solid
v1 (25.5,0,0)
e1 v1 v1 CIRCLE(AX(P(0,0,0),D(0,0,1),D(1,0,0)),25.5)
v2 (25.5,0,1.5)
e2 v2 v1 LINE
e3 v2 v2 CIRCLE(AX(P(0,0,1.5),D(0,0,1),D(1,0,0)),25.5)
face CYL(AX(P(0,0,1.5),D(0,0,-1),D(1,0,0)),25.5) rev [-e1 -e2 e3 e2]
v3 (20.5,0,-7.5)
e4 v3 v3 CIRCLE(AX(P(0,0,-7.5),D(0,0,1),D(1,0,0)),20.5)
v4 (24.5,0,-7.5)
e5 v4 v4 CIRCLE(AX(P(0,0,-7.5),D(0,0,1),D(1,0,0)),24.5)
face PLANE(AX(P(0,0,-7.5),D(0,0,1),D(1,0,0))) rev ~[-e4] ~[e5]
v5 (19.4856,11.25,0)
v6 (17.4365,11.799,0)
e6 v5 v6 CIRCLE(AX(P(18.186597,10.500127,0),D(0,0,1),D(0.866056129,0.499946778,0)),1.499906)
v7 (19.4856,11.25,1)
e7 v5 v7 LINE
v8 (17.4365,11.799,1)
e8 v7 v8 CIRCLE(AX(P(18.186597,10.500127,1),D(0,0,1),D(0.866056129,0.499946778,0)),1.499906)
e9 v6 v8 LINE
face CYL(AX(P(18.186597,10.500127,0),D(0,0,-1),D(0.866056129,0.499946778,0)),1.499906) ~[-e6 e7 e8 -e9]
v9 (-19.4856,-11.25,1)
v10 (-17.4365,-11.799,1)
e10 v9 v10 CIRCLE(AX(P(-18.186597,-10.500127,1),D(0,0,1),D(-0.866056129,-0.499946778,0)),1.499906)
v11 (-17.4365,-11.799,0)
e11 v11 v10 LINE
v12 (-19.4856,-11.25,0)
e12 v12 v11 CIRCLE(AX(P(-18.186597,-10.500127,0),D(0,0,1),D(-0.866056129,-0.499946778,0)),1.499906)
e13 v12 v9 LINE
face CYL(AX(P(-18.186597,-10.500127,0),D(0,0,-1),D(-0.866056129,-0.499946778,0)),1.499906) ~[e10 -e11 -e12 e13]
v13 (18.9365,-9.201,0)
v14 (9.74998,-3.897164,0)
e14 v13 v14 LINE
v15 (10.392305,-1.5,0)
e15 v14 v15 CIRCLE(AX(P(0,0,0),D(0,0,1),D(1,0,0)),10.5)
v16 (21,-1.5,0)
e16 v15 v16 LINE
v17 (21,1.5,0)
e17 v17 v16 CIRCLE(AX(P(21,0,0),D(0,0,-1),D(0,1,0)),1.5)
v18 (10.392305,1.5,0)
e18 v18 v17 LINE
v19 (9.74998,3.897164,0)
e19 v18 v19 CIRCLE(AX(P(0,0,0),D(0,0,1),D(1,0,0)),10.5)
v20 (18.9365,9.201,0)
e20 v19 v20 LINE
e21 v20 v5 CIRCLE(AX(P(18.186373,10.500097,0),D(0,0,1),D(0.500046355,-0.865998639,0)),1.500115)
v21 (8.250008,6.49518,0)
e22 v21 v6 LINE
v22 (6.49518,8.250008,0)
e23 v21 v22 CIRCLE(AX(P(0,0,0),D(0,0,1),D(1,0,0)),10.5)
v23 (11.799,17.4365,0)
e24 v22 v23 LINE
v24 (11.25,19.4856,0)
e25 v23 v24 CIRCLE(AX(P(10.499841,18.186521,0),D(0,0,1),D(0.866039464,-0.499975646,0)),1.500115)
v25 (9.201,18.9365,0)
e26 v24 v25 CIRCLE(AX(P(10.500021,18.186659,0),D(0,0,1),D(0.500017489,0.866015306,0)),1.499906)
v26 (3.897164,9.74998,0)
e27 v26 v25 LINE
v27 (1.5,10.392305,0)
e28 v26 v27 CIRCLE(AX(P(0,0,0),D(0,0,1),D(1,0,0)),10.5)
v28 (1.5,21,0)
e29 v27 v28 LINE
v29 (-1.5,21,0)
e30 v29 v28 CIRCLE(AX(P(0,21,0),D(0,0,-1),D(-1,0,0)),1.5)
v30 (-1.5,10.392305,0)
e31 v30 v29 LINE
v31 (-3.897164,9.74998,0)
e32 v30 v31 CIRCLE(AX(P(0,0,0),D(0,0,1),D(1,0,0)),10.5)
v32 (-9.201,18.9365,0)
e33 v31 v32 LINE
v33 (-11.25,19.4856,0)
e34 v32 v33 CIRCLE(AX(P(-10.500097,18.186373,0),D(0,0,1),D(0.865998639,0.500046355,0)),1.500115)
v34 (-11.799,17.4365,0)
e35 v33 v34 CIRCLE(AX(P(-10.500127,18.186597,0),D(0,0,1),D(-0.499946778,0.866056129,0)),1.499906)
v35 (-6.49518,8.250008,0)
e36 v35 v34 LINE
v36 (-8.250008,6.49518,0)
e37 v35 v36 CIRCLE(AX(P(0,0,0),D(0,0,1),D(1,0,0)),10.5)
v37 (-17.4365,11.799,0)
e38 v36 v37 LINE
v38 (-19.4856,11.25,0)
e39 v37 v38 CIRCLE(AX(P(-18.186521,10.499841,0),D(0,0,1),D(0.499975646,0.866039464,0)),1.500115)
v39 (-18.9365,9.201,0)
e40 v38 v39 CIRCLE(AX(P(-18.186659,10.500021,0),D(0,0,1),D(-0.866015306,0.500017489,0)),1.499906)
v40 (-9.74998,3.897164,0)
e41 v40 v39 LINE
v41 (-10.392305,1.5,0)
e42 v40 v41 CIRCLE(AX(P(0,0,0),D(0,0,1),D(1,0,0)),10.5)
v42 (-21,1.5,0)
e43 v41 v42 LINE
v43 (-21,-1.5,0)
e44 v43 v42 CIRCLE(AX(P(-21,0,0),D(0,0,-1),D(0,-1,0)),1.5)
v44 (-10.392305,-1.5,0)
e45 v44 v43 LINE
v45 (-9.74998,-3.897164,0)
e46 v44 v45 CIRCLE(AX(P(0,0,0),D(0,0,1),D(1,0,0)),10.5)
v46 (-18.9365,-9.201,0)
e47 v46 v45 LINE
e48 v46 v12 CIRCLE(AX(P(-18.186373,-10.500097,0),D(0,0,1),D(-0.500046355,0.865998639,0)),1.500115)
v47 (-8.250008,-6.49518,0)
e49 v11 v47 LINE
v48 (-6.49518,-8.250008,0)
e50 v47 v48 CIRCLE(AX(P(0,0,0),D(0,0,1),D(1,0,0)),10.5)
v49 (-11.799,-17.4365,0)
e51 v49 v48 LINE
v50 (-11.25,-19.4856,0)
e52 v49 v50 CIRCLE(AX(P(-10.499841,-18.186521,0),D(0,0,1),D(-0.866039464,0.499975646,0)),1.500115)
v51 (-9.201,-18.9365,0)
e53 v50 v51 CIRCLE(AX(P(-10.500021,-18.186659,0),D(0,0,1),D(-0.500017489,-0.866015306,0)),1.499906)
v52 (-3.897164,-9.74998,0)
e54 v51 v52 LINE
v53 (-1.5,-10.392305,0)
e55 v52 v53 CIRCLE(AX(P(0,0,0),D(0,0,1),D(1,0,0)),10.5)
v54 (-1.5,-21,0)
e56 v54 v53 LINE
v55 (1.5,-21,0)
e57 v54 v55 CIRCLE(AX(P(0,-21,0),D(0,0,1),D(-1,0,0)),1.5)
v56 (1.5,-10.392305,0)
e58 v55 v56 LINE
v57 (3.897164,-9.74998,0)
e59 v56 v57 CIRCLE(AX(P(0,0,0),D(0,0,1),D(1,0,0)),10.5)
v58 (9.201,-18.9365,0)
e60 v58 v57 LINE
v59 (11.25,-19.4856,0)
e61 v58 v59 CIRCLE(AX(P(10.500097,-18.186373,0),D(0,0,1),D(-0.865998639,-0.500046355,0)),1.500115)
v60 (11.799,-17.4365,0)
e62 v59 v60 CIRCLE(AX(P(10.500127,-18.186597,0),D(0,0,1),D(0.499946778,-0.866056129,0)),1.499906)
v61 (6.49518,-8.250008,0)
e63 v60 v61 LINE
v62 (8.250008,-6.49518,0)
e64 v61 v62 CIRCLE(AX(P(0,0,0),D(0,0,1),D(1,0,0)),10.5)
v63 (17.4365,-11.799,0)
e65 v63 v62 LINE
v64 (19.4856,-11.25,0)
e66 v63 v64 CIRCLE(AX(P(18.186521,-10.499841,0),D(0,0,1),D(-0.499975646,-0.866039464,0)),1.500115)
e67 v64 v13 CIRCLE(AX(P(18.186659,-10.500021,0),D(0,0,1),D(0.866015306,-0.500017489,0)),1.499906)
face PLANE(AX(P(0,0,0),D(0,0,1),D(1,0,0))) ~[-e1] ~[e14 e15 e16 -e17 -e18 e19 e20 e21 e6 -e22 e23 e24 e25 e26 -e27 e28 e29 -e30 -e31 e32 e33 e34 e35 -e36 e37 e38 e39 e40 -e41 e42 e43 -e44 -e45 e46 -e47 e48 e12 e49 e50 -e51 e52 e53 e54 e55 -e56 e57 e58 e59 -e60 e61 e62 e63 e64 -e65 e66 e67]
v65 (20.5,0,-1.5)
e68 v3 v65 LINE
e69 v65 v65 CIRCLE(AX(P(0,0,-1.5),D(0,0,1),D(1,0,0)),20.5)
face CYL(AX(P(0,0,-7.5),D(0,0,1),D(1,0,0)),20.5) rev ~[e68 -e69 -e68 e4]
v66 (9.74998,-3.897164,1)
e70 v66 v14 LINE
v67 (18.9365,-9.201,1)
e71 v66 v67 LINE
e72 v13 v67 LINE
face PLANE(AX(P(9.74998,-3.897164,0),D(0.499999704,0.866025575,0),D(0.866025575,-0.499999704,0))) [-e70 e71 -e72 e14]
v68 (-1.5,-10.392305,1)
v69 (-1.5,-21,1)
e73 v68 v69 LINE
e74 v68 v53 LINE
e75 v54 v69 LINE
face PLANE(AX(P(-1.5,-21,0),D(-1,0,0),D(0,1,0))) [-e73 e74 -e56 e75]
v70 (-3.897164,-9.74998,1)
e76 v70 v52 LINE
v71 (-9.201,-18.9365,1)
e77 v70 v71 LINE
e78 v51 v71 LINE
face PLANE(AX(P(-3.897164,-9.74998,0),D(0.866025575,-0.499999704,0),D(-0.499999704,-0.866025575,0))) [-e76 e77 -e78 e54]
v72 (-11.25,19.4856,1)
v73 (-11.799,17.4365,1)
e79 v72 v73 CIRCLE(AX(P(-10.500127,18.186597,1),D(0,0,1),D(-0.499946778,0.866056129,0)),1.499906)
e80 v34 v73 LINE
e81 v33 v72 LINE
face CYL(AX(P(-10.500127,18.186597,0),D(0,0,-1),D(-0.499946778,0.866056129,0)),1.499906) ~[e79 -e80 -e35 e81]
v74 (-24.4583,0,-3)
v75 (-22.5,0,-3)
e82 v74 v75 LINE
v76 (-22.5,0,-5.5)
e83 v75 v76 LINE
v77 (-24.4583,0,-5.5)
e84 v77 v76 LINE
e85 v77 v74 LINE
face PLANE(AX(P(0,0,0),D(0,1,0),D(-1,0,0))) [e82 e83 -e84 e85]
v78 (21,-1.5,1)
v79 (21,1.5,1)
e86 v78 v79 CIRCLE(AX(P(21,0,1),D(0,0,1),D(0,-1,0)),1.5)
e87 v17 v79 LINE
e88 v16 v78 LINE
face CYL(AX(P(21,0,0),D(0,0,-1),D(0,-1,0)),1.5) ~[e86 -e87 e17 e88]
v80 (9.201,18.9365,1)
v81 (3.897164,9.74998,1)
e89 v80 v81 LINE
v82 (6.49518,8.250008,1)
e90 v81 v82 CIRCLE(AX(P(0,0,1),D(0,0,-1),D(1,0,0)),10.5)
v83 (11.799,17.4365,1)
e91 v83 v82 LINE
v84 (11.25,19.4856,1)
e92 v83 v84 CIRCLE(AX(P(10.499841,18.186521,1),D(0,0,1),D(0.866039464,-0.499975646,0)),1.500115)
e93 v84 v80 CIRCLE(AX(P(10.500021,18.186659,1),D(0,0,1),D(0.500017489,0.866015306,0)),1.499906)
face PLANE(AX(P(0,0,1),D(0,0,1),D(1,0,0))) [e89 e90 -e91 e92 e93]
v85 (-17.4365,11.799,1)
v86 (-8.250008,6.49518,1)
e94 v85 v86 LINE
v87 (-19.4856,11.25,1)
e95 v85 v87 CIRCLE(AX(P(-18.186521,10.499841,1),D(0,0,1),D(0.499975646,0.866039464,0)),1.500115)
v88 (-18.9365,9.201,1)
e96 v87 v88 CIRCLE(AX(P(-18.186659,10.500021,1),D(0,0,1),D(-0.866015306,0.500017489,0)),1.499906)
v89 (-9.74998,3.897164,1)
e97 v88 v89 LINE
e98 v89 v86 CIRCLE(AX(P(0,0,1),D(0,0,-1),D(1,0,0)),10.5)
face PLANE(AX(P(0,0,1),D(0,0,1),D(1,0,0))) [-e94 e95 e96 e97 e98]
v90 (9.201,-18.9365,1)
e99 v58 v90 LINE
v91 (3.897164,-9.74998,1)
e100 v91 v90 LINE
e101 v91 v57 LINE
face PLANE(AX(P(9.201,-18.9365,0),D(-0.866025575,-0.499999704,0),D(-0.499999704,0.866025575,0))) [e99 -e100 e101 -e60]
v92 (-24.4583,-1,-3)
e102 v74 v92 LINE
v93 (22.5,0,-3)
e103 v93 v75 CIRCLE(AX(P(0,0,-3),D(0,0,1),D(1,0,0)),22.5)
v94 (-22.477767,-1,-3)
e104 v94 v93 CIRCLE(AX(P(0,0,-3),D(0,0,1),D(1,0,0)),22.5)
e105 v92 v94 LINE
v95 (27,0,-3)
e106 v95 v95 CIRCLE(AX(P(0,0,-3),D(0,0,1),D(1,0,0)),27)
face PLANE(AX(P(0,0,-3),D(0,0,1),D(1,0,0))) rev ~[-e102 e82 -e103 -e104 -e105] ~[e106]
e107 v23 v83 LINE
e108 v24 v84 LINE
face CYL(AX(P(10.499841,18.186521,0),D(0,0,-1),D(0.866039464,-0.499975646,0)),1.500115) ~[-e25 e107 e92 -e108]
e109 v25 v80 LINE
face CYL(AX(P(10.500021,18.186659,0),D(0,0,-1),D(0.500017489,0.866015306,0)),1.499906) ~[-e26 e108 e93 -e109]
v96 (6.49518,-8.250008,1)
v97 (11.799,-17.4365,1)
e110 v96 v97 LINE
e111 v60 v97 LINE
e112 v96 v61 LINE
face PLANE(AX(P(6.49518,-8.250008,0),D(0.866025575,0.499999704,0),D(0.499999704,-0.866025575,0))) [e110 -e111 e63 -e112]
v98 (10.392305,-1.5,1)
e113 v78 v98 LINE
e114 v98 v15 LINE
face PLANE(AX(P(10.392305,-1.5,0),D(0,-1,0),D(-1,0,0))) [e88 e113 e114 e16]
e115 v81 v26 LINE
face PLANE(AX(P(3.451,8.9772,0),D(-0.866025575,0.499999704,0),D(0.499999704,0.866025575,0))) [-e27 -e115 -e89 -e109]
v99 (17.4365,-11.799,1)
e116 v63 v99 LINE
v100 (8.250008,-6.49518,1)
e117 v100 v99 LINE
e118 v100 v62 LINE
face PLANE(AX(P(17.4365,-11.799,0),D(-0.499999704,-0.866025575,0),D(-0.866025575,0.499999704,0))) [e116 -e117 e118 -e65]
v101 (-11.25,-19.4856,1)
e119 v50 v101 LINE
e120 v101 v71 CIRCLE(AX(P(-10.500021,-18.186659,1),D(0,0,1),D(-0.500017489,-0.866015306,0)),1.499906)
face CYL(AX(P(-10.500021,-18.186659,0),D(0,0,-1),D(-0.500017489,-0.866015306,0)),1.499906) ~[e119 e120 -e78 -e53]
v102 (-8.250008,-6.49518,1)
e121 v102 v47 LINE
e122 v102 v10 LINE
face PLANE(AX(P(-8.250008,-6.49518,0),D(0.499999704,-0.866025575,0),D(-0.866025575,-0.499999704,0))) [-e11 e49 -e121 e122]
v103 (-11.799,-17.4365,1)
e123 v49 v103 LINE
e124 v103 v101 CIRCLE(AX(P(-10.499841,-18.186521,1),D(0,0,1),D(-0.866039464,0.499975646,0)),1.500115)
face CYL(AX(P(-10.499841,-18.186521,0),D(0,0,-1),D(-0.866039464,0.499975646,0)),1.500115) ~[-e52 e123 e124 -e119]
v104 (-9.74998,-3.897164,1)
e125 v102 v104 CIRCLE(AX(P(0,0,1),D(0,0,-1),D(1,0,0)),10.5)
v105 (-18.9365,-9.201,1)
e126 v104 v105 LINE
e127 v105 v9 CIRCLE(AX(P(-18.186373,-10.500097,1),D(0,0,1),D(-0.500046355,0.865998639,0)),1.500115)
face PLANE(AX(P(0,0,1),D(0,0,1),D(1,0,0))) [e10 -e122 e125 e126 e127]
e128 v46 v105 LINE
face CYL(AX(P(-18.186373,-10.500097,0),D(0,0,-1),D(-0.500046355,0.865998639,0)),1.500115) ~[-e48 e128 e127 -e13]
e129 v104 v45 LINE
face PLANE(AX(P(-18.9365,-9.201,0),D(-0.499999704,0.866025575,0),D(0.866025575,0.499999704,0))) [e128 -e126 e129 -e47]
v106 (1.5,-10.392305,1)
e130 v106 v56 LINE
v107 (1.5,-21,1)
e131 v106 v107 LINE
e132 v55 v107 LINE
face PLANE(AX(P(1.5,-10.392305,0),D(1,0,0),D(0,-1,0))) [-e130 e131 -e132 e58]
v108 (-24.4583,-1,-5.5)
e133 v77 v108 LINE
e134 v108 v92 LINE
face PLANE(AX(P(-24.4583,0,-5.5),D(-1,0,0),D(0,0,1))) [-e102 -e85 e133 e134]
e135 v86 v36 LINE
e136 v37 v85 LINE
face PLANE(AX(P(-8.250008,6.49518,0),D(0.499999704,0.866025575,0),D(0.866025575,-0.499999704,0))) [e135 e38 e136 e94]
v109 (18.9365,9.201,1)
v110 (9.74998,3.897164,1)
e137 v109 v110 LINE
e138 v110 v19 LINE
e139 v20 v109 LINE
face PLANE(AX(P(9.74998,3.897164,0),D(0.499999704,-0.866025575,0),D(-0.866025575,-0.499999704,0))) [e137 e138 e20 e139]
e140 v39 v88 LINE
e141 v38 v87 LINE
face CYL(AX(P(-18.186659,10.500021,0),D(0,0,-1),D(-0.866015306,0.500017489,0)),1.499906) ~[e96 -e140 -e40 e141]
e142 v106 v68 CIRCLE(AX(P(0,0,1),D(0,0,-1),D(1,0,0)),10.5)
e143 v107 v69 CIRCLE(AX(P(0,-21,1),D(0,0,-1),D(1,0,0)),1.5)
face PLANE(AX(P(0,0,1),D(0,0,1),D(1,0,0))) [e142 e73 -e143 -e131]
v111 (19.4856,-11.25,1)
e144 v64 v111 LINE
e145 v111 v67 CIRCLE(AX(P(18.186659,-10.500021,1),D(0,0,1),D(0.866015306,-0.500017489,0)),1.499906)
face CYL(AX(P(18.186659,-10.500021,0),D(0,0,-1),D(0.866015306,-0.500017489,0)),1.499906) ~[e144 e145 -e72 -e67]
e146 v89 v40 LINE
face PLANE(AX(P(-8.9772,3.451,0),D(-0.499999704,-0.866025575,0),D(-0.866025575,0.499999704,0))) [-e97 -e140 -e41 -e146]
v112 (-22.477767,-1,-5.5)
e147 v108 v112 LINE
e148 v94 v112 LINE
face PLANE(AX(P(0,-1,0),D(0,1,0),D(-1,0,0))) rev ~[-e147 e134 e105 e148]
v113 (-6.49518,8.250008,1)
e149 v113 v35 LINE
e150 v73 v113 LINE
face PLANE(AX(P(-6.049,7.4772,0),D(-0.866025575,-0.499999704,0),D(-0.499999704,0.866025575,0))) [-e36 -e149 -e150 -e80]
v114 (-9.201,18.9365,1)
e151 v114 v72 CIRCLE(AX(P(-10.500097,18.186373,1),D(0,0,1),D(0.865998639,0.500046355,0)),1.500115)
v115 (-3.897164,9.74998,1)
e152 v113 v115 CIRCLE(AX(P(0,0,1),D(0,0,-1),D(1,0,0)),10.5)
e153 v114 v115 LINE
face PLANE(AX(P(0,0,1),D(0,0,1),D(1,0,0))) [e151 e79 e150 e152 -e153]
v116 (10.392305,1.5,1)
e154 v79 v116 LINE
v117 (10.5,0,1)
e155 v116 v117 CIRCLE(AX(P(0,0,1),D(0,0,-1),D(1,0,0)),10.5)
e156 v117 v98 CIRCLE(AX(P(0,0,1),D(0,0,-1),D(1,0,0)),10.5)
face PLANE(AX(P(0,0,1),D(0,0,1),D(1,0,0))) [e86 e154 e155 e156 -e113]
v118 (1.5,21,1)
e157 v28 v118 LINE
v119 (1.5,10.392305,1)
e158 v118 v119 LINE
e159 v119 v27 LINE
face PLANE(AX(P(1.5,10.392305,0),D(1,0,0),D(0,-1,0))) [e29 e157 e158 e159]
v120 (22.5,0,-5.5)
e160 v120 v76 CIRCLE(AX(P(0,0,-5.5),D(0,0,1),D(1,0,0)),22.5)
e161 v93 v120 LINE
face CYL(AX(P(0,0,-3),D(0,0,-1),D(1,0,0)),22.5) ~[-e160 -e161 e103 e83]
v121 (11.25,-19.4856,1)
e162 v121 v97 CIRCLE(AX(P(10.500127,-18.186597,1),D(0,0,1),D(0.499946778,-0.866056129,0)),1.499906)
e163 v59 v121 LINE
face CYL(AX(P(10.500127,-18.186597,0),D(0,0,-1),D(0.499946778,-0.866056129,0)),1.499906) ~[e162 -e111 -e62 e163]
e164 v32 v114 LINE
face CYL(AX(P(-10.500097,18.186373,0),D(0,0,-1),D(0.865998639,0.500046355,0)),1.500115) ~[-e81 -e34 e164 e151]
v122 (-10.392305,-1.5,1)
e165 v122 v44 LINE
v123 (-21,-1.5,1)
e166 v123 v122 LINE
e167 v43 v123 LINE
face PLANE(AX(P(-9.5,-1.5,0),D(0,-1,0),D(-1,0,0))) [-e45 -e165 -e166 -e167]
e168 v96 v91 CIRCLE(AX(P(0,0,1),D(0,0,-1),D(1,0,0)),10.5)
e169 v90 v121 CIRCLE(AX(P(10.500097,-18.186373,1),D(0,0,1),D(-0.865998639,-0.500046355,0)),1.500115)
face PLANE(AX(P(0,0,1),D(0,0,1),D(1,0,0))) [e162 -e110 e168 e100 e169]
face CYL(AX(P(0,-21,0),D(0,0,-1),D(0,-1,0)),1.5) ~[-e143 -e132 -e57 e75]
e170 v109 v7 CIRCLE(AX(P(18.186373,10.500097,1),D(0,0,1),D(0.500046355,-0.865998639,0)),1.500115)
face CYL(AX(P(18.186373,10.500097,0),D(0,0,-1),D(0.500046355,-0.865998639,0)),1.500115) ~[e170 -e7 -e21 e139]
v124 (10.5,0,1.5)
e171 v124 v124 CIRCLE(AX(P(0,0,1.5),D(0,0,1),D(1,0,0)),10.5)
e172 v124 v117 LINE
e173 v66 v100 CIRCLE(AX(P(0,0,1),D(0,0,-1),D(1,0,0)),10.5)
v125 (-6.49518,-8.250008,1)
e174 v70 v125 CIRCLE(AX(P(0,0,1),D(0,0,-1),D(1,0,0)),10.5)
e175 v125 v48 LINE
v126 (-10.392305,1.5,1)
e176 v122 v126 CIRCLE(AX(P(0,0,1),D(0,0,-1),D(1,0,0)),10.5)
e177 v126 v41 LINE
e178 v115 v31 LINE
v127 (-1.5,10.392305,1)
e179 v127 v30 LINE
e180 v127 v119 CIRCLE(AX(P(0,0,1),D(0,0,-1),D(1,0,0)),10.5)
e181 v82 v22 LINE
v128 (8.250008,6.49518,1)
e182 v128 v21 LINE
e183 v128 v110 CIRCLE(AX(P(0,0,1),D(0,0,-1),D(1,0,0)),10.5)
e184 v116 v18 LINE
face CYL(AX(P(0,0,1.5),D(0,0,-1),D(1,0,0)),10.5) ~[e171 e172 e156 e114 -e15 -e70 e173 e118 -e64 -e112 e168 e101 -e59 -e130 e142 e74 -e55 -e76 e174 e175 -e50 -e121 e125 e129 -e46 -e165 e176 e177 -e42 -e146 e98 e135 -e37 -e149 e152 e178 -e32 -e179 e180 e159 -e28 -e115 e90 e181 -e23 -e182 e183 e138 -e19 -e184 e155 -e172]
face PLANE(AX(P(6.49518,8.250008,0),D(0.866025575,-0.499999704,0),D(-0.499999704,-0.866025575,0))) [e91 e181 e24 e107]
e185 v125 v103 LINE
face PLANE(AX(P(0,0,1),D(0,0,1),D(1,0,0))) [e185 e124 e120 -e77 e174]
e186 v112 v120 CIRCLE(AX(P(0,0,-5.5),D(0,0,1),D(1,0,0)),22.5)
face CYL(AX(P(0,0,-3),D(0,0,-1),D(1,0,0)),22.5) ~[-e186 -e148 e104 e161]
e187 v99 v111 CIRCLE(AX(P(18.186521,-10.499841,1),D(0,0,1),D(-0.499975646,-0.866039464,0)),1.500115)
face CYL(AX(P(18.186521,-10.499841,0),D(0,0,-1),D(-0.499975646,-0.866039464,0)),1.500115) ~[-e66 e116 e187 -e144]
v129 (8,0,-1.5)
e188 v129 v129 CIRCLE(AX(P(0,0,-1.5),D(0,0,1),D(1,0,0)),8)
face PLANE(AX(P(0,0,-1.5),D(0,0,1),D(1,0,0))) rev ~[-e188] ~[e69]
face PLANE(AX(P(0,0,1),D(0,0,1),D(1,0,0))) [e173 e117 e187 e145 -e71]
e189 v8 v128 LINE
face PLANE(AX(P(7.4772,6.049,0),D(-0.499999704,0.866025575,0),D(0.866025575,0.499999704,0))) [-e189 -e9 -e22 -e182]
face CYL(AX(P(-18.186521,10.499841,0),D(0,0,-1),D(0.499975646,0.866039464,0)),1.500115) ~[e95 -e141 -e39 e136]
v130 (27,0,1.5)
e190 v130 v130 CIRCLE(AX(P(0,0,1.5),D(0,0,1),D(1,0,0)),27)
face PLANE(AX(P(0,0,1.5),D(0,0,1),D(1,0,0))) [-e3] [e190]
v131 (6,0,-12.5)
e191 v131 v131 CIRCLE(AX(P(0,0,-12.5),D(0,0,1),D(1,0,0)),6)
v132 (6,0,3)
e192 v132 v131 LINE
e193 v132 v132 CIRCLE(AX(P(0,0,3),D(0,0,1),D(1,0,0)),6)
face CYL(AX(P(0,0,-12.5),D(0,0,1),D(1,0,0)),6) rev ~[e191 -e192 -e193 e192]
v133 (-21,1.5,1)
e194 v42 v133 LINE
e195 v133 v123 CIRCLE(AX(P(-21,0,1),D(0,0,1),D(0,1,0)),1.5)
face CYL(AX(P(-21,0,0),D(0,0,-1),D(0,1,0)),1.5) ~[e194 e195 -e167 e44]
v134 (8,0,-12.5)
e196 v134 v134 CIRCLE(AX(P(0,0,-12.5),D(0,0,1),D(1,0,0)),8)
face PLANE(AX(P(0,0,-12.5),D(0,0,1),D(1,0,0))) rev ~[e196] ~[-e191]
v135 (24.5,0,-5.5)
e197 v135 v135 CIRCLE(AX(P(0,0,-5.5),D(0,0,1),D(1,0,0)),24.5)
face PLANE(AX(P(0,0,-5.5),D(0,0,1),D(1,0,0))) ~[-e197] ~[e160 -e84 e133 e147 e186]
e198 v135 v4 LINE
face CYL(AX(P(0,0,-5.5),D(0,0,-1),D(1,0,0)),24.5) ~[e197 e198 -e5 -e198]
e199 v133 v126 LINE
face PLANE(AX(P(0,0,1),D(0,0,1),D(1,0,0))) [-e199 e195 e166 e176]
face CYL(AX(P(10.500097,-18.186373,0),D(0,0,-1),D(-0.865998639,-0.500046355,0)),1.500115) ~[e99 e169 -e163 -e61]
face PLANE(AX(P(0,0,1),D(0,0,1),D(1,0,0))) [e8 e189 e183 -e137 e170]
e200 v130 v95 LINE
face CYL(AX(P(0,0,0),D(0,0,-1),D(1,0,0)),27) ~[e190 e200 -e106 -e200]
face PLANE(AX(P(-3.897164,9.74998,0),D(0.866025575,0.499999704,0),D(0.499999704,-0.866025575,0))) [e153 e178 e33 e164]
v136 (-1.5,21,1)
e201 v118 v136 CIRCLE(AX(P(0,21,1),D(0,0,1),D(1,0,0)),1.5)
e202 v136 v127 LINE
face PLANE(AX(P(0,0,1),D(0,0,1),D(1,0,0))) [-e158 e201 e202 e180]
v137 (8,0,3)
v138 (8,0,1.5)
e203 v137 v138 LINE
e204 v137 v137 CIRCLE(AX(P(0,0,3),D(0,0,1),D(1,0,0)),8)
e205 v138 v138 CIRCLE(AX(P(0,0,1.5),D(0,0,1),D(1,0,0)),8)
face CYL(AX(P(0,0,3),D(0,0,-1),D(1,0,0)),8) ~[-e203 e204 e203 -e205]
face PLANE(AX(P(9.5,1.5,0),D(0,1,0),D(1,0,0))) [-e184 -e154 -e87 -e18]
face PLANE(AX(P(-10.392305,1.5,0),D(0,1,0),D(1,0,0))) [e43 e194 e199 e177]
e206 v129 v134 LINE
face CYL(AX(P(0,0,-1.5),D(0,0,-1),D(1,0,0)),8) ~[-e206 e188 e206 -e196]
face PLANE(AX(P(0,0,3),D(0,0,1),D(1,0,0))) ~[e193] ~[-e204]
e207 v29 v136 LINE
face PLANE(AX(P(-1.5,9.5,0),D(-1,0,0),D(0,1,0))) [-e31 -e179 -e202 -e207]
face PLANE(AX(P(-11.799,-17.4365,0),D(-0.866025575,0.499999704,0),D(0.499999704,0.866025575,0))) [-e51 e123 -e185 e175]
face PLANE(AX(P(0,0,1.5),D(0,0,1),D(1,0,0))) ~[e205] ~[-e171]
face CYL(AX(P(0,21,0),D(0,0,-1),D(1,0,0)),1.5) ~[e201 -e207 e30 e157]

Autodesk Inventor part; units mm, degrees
ref_plane "YZ Plane" through (0, 0, 0) normal (1, 0, 0) x (0, 1, 0)
ref_plane "XZ Plane" through (0, 0, 0) normal (0, 1, 0) x (-1, 0, 0)
ref_plane "XY Plane" through (0, 0, 0) normal (0, 0, 1) x (1, 0, 0)
sketch "Sketch1" plane through (0, 0, 0) normal (0, 1, 0) x (-1, 0, 0)
  line L0 (0, 0) -> (-27, 0)
  line L1 (-27, 0) -> (-27, -3)
  line L2 (-27, -3) -> (-22.5, -3)
  line L3 (-22.5, -3) -> (-22.5, -5.5)
  line L4 (-22.5, -5.5) -> (-24.5, -5.5)
  line L5 (-24.5, -5.5) -> (-24.5, -7.5)
  line L6 (-24.5, -7.5) -> (-20.5, -7.5)
  line L7 (-20.5, -7.5) -> (-20.5, -1.5)
  line L8 (-20.5, -1.5) -> (-8, -1.5)
  line L9 (-8, -1.5) -> (-8, -12.5)
  line L10 (-8, -12.5) -> (-6, -12.5)
  line L11 (-6, -12.5) -> (-6, 0)
  line L12 (-6, 0) -> (-6, 3)
  line L13 (-6, 3) -> (-8, 3)
  line L14 (-8, 3) -> (-8, 1.5)
  line L15 (-8, 1.5) -> (-9, 1.5)
  line L16 (-9, 1.5) -> (-10.5, 1.5)
  line L17 (-10.5, 1.5) -> (-10.5, 0)
  line L18 (-27, 0) -> (-27, 1.5)
  line L19 (-27, 1.5) -> (-25.5, 1.5)
  line L20 (-25.5, 1.5) -> (-25.5, 0)
  line L21 (0, -15.6) -> (0, 6.1) projected
  dimension "d0" = 27
  dimension "d1" = 3
  dimension "d2" = 4.5
  dimension "d3" = 2.5
  dimension "d4" = 2
  dimension "d5" = 2.5
  dimension "d6" = 4
  dimension "d7" = 2
  dimension "d8" = 1.5
  dimension "d9" = 8
  dimension "d10" = 3
  dimension "d11" = 2
  dimension "d12" = 1.5
  dimension "d13" = 1
  dimension "d14" = 1.5
  dimension "d15" = 1.5
  dimension "d16" = 5
revolve "Revolution1" add sketch "Sketch1" angle 360 about axis through (0, 0, -10) along (0, 0, 1)
sketch "Sketch2" plane through (0, 0, 0) normal (0, 0, 1) x (1, 0, 0)
  circle A0 centre (0, 0) radius 10.5 projected
  line L0 (9.5, 1.5) -> (21, 1.5)
  line L1 (22.5, 0) -> (22.5, 0)
  line L2 (21, -1.5) -> (9.5, -1.5)
  line L3 (9.5, -1.5) -> (9.5, 1.5)
  arc A1 (22.5, 0) -> (21, 1.5) centre (21, 0) ccw
  arc A2 (21, -1.5) -> (22.5, 0) centre (21, 0) ccw
  line L4 (7.4772, 6.049) -> (17.4365, 11.799)
  line L5 (19.4856, 11.25) -> (19.4856, 11.25)
  line L6 (18.9365, 9.201) -> (8.9772, 3.451)
  line L7 (8.9772, 3.451) -> (7.4772, 6.049)
  arc A3 (19.4856, 11.25) -> (17.4365, 11.799) centre (18.1865, 10.5) ccw
  arc A4 (18.9365, 9.201) -> (19.4856, 11.25) centre (18.1865, 10.5) ccw
  line L8 (3.451, 8.9772) -> (9.201, 18.9365)
  line L9 (11.25, 19.4856) -> (11.25, 19.4856)
  line L10 (11.799, 17.4365) -> (6.049, 7.4772)
  line L11 (6.049, 7.4772) -> (3.451, 8.9772)
  arc A5 (11.25, 19.4856) -> (9.201, 18.9365) centre (10.5, 18.1865) ccw
  arc A6 (11.799, 17.4365) -> (11.25, 19.4856) centre (10.5, 18.1865) ccw
  line L12 (-1.5, 9.5) -> (-1.5, 21)
  line L13 (0, 22.5) -> (0, 22.5)
  line L14 (1.5, 21) -> (1.5, 9.5)
  line L15 (1.5, 9.5) -> (-1.5, 9.5)
  arc A7 (0, 22.5) -> (-1.5, 21) centre (0, 21) ccw
  arc A8 (1.5, 21) -> (0, 22.5) centre (0, 21) ccw
  line L16 (-6.049, 7.4772) -> (-11.799, 17.4365)
  line L17 (-11.25, 19.4856) -> (-11.25, 19.4856)
  line L18 (-9.201, 18.9365) -> (-3.451, 8.9772)
  line L19 (-3.451, 8.9772) -> (-6.049, 7.4772)
  arc A9 (-11.25, 19.4856) -> (-11.799, 17.4365) centre (-10.5, 18.1865) ccw
  arc A10 (-9.201, 18.9365) -> (-11.25, 19.4856) centre (-10.5, 18.1865) ccw
  line L20 (-8.9772, 3.451) -> (-18.9365, 9.201)
  line L21 (-19.4856, 11.25) -> (-19.4856, 11.25)
  line L22 (-17.4365, 11.799) -> (-7.4772, 6.049)
  line L23 (-7.4772, 6.049) -> (-8.9772, 3.451)
  arc A11 (-19.4856, 11.25) -> (-18.9365, 9.201) centre (-18.1865, 10.5) ccw
  arc A12 (-17.4365, 11.799) -> (-19.4856, 11.25) centre (-18.1865, 10.5) ccw
  line L24 (-9.5, -1.5) -> (-21, -1.5)
  line L25 (-22.5, 0) -> (-22.5, 0)
  line L26 (-21, 1.5) -> (-9.5, 1.5)
  line L27 (-9.5, 1.5) -> (-9.5, -1.5)
  arc A13 (-22.5, 0) -> (-21, -1.5) centre (-21, 0) ccw
  arc A14 (-21, 1.5) -> (-22.5, 0) centre (-21, 0) ccw
  line L28 (-7.4772, -6.049) -> (-17.4365, -11.799)
  line L29 (-19.4856, -11.25) -> (-19.4856, -11.25)
  line L30 (-18.9365, -9.201) -> (-8.9772, -3.451)
  line L31 (-8.9772, -3.451) -> (-7.4772, -6.049)
  arc A15 (-19.4856, -11.25) -> (-17.4365, -11.799) centre (-18.1865, -10.5) ccw
  arc A16 (-18.9365, -9.201) -> (-19.4856, -11.25) centre (-18.1865, -10.5) ccw
  line L32 (-3.451, -8.9772) -> (-9.201, -18.9365)
  line L33 (-11.25, -19.4856) -> (-11.25, -19.4856)
  line L34 (-11.799, -17.4365) -> (-6.049, -7.4772)
  line L35 (-6.049, -7.4772) -> (-3.451, -8.9772)
  arc A17 (-11.25, -19.4856) -> (-9.201, -18.9365) centre (-10.5, -18.1865) ccw
  arc A18 (-11.799, -17.4365) -> (-11.25, -19.4856) centre (-10.5, -18.1865) ccw
  line L36 (1.5, -9.5) -> (1.5, -21)
  line L37 (0, -22.5) -> (0, -22.5)
  line L38 (-1.5, -21) -> (-1.5, -9.5)
  line L39 (-1.5, -9.5) -> (1.5, -9.5)
  arc A19 (0, -22.5) -> (1.5, -21) centre (0, -21) ccw
  arc A20 (-1.5, -21) -> (0, -22.5) centre (0, -21) ccw
  line L40 (6.049, -7.4772) -> (11.799, -17.4365)
  line L41 (11.25, -19.4856) -> (11.25, -19.4856)
  line L42 (9.201, -18.9365) -> (3.451, -8.9772)
  line L43 (3.451, -8.9772) -> (6.049, -7.4772)
  arc A21 (11.25, -19.4856) -> (11.799, -17.4365) centre (10.5, -18.1865) ccw
  arc A22 (9.201, -18.9365) -> (11.25, -19.4856) centre (10.5, -18.1865) ccw
  line L44 (8.9772, -3.451) -> (18.9365, -9.201)
  line L45 (19.4856, -11.25) -> (19.4856, -11.25)
  line L46 (17.4365, -11.799) -> (7.4772, -6.049)
  line L47 (7.4772, -6.049) -> (8.9772, -3.451)
  arc A23 (19.4856, -11.25) -> (18.9365, -9.201) centre (18.1865, -10.5) ccw
  arc A24 (17.4365, -11.799) -> (19.4856, -11.25) centre (18.1865, -10.5) ccw
  point P0 (22.5, -1.5)
  point P1 (20.2356, 9.951)
  point P2 (12.549, 18.7356)
  point P3 (1.5, 22.5)
  point P4 (-9.951, 20.2356)
  point P5 (-18.7356, 12.549)
  point P6 (-22.5, 1.5)
  point P7 (-20.2356, -9.951)
  point P8 (-12.549, -18.7356)
  point P9 (-1.5, -22.5)
  point P10 (9.951, -20.2356)
  point P11 (18.7356, -12.549)
  dimension "d18" = 13
  dimension "d19" = 1
  dimension "d20" = 3
  dimension "d21" = 1.5
  dimension "d22" = 1.5
  dimension "d25" = 360
extrude "Extrusion1" add sketch "Sketch2" along normal blind 1 contours A0 L2 L3 L0 | A0 L0 A1 A2 L2 | L6 L7 L4 A0 | A0 L4 A3 A4 L6 | L44 A23 A24 L46 A0 | A0 L46 L47 L44 | L10 L11 L8 A0 | A0 L8 A5 A6 L10 | L40 A21 A22 L42 A0 | A0 L42 L43 L40 | L14 L15 L12 A0 | A0 L12 A7 A8 L14 | L36 A19 A20 L38 A0 | A0 L38 L39 L36 | L18 L19 L16 A0 | A0 L16 A9 A10 L18 | L32 A17 A18 L34 A0 | A0 L34 L35 L32 | L22 L23 L20 A0 | A0 L20 A11 A12 L22 | L28 A15 A16 L30 A0 | A0 L30 L31 L28 | L26 L27 L24 A0 | A0 L24 A13 A14 L26
sketch "Sketch3" plane through (0, 0, 0) normal (0, 1, 0) x (-1, 0, 0)
  line L0 (24.5, -5.5) -> (-24.5, -5.5) projected
  line L1 (22.4583, -5.5) -> (24.4583, -5.5)
  line L2 (24.4583, -5.5) -> (24.4583, -3)
  line L3 (24.4583, -3) -> (22.4583, -3)
  line L4 (22.4583, -3) -> (22.4583, -5.5)
  point P0 (0, 0)
  dimension "d29" = 2
  dimension "d30" = 2.5
extrude "Extrusion2" add sketch "Sketch3" against normal blind 1
equation "\"d21\" = 0.5 * d20"
properties part number "MotorGrill"
